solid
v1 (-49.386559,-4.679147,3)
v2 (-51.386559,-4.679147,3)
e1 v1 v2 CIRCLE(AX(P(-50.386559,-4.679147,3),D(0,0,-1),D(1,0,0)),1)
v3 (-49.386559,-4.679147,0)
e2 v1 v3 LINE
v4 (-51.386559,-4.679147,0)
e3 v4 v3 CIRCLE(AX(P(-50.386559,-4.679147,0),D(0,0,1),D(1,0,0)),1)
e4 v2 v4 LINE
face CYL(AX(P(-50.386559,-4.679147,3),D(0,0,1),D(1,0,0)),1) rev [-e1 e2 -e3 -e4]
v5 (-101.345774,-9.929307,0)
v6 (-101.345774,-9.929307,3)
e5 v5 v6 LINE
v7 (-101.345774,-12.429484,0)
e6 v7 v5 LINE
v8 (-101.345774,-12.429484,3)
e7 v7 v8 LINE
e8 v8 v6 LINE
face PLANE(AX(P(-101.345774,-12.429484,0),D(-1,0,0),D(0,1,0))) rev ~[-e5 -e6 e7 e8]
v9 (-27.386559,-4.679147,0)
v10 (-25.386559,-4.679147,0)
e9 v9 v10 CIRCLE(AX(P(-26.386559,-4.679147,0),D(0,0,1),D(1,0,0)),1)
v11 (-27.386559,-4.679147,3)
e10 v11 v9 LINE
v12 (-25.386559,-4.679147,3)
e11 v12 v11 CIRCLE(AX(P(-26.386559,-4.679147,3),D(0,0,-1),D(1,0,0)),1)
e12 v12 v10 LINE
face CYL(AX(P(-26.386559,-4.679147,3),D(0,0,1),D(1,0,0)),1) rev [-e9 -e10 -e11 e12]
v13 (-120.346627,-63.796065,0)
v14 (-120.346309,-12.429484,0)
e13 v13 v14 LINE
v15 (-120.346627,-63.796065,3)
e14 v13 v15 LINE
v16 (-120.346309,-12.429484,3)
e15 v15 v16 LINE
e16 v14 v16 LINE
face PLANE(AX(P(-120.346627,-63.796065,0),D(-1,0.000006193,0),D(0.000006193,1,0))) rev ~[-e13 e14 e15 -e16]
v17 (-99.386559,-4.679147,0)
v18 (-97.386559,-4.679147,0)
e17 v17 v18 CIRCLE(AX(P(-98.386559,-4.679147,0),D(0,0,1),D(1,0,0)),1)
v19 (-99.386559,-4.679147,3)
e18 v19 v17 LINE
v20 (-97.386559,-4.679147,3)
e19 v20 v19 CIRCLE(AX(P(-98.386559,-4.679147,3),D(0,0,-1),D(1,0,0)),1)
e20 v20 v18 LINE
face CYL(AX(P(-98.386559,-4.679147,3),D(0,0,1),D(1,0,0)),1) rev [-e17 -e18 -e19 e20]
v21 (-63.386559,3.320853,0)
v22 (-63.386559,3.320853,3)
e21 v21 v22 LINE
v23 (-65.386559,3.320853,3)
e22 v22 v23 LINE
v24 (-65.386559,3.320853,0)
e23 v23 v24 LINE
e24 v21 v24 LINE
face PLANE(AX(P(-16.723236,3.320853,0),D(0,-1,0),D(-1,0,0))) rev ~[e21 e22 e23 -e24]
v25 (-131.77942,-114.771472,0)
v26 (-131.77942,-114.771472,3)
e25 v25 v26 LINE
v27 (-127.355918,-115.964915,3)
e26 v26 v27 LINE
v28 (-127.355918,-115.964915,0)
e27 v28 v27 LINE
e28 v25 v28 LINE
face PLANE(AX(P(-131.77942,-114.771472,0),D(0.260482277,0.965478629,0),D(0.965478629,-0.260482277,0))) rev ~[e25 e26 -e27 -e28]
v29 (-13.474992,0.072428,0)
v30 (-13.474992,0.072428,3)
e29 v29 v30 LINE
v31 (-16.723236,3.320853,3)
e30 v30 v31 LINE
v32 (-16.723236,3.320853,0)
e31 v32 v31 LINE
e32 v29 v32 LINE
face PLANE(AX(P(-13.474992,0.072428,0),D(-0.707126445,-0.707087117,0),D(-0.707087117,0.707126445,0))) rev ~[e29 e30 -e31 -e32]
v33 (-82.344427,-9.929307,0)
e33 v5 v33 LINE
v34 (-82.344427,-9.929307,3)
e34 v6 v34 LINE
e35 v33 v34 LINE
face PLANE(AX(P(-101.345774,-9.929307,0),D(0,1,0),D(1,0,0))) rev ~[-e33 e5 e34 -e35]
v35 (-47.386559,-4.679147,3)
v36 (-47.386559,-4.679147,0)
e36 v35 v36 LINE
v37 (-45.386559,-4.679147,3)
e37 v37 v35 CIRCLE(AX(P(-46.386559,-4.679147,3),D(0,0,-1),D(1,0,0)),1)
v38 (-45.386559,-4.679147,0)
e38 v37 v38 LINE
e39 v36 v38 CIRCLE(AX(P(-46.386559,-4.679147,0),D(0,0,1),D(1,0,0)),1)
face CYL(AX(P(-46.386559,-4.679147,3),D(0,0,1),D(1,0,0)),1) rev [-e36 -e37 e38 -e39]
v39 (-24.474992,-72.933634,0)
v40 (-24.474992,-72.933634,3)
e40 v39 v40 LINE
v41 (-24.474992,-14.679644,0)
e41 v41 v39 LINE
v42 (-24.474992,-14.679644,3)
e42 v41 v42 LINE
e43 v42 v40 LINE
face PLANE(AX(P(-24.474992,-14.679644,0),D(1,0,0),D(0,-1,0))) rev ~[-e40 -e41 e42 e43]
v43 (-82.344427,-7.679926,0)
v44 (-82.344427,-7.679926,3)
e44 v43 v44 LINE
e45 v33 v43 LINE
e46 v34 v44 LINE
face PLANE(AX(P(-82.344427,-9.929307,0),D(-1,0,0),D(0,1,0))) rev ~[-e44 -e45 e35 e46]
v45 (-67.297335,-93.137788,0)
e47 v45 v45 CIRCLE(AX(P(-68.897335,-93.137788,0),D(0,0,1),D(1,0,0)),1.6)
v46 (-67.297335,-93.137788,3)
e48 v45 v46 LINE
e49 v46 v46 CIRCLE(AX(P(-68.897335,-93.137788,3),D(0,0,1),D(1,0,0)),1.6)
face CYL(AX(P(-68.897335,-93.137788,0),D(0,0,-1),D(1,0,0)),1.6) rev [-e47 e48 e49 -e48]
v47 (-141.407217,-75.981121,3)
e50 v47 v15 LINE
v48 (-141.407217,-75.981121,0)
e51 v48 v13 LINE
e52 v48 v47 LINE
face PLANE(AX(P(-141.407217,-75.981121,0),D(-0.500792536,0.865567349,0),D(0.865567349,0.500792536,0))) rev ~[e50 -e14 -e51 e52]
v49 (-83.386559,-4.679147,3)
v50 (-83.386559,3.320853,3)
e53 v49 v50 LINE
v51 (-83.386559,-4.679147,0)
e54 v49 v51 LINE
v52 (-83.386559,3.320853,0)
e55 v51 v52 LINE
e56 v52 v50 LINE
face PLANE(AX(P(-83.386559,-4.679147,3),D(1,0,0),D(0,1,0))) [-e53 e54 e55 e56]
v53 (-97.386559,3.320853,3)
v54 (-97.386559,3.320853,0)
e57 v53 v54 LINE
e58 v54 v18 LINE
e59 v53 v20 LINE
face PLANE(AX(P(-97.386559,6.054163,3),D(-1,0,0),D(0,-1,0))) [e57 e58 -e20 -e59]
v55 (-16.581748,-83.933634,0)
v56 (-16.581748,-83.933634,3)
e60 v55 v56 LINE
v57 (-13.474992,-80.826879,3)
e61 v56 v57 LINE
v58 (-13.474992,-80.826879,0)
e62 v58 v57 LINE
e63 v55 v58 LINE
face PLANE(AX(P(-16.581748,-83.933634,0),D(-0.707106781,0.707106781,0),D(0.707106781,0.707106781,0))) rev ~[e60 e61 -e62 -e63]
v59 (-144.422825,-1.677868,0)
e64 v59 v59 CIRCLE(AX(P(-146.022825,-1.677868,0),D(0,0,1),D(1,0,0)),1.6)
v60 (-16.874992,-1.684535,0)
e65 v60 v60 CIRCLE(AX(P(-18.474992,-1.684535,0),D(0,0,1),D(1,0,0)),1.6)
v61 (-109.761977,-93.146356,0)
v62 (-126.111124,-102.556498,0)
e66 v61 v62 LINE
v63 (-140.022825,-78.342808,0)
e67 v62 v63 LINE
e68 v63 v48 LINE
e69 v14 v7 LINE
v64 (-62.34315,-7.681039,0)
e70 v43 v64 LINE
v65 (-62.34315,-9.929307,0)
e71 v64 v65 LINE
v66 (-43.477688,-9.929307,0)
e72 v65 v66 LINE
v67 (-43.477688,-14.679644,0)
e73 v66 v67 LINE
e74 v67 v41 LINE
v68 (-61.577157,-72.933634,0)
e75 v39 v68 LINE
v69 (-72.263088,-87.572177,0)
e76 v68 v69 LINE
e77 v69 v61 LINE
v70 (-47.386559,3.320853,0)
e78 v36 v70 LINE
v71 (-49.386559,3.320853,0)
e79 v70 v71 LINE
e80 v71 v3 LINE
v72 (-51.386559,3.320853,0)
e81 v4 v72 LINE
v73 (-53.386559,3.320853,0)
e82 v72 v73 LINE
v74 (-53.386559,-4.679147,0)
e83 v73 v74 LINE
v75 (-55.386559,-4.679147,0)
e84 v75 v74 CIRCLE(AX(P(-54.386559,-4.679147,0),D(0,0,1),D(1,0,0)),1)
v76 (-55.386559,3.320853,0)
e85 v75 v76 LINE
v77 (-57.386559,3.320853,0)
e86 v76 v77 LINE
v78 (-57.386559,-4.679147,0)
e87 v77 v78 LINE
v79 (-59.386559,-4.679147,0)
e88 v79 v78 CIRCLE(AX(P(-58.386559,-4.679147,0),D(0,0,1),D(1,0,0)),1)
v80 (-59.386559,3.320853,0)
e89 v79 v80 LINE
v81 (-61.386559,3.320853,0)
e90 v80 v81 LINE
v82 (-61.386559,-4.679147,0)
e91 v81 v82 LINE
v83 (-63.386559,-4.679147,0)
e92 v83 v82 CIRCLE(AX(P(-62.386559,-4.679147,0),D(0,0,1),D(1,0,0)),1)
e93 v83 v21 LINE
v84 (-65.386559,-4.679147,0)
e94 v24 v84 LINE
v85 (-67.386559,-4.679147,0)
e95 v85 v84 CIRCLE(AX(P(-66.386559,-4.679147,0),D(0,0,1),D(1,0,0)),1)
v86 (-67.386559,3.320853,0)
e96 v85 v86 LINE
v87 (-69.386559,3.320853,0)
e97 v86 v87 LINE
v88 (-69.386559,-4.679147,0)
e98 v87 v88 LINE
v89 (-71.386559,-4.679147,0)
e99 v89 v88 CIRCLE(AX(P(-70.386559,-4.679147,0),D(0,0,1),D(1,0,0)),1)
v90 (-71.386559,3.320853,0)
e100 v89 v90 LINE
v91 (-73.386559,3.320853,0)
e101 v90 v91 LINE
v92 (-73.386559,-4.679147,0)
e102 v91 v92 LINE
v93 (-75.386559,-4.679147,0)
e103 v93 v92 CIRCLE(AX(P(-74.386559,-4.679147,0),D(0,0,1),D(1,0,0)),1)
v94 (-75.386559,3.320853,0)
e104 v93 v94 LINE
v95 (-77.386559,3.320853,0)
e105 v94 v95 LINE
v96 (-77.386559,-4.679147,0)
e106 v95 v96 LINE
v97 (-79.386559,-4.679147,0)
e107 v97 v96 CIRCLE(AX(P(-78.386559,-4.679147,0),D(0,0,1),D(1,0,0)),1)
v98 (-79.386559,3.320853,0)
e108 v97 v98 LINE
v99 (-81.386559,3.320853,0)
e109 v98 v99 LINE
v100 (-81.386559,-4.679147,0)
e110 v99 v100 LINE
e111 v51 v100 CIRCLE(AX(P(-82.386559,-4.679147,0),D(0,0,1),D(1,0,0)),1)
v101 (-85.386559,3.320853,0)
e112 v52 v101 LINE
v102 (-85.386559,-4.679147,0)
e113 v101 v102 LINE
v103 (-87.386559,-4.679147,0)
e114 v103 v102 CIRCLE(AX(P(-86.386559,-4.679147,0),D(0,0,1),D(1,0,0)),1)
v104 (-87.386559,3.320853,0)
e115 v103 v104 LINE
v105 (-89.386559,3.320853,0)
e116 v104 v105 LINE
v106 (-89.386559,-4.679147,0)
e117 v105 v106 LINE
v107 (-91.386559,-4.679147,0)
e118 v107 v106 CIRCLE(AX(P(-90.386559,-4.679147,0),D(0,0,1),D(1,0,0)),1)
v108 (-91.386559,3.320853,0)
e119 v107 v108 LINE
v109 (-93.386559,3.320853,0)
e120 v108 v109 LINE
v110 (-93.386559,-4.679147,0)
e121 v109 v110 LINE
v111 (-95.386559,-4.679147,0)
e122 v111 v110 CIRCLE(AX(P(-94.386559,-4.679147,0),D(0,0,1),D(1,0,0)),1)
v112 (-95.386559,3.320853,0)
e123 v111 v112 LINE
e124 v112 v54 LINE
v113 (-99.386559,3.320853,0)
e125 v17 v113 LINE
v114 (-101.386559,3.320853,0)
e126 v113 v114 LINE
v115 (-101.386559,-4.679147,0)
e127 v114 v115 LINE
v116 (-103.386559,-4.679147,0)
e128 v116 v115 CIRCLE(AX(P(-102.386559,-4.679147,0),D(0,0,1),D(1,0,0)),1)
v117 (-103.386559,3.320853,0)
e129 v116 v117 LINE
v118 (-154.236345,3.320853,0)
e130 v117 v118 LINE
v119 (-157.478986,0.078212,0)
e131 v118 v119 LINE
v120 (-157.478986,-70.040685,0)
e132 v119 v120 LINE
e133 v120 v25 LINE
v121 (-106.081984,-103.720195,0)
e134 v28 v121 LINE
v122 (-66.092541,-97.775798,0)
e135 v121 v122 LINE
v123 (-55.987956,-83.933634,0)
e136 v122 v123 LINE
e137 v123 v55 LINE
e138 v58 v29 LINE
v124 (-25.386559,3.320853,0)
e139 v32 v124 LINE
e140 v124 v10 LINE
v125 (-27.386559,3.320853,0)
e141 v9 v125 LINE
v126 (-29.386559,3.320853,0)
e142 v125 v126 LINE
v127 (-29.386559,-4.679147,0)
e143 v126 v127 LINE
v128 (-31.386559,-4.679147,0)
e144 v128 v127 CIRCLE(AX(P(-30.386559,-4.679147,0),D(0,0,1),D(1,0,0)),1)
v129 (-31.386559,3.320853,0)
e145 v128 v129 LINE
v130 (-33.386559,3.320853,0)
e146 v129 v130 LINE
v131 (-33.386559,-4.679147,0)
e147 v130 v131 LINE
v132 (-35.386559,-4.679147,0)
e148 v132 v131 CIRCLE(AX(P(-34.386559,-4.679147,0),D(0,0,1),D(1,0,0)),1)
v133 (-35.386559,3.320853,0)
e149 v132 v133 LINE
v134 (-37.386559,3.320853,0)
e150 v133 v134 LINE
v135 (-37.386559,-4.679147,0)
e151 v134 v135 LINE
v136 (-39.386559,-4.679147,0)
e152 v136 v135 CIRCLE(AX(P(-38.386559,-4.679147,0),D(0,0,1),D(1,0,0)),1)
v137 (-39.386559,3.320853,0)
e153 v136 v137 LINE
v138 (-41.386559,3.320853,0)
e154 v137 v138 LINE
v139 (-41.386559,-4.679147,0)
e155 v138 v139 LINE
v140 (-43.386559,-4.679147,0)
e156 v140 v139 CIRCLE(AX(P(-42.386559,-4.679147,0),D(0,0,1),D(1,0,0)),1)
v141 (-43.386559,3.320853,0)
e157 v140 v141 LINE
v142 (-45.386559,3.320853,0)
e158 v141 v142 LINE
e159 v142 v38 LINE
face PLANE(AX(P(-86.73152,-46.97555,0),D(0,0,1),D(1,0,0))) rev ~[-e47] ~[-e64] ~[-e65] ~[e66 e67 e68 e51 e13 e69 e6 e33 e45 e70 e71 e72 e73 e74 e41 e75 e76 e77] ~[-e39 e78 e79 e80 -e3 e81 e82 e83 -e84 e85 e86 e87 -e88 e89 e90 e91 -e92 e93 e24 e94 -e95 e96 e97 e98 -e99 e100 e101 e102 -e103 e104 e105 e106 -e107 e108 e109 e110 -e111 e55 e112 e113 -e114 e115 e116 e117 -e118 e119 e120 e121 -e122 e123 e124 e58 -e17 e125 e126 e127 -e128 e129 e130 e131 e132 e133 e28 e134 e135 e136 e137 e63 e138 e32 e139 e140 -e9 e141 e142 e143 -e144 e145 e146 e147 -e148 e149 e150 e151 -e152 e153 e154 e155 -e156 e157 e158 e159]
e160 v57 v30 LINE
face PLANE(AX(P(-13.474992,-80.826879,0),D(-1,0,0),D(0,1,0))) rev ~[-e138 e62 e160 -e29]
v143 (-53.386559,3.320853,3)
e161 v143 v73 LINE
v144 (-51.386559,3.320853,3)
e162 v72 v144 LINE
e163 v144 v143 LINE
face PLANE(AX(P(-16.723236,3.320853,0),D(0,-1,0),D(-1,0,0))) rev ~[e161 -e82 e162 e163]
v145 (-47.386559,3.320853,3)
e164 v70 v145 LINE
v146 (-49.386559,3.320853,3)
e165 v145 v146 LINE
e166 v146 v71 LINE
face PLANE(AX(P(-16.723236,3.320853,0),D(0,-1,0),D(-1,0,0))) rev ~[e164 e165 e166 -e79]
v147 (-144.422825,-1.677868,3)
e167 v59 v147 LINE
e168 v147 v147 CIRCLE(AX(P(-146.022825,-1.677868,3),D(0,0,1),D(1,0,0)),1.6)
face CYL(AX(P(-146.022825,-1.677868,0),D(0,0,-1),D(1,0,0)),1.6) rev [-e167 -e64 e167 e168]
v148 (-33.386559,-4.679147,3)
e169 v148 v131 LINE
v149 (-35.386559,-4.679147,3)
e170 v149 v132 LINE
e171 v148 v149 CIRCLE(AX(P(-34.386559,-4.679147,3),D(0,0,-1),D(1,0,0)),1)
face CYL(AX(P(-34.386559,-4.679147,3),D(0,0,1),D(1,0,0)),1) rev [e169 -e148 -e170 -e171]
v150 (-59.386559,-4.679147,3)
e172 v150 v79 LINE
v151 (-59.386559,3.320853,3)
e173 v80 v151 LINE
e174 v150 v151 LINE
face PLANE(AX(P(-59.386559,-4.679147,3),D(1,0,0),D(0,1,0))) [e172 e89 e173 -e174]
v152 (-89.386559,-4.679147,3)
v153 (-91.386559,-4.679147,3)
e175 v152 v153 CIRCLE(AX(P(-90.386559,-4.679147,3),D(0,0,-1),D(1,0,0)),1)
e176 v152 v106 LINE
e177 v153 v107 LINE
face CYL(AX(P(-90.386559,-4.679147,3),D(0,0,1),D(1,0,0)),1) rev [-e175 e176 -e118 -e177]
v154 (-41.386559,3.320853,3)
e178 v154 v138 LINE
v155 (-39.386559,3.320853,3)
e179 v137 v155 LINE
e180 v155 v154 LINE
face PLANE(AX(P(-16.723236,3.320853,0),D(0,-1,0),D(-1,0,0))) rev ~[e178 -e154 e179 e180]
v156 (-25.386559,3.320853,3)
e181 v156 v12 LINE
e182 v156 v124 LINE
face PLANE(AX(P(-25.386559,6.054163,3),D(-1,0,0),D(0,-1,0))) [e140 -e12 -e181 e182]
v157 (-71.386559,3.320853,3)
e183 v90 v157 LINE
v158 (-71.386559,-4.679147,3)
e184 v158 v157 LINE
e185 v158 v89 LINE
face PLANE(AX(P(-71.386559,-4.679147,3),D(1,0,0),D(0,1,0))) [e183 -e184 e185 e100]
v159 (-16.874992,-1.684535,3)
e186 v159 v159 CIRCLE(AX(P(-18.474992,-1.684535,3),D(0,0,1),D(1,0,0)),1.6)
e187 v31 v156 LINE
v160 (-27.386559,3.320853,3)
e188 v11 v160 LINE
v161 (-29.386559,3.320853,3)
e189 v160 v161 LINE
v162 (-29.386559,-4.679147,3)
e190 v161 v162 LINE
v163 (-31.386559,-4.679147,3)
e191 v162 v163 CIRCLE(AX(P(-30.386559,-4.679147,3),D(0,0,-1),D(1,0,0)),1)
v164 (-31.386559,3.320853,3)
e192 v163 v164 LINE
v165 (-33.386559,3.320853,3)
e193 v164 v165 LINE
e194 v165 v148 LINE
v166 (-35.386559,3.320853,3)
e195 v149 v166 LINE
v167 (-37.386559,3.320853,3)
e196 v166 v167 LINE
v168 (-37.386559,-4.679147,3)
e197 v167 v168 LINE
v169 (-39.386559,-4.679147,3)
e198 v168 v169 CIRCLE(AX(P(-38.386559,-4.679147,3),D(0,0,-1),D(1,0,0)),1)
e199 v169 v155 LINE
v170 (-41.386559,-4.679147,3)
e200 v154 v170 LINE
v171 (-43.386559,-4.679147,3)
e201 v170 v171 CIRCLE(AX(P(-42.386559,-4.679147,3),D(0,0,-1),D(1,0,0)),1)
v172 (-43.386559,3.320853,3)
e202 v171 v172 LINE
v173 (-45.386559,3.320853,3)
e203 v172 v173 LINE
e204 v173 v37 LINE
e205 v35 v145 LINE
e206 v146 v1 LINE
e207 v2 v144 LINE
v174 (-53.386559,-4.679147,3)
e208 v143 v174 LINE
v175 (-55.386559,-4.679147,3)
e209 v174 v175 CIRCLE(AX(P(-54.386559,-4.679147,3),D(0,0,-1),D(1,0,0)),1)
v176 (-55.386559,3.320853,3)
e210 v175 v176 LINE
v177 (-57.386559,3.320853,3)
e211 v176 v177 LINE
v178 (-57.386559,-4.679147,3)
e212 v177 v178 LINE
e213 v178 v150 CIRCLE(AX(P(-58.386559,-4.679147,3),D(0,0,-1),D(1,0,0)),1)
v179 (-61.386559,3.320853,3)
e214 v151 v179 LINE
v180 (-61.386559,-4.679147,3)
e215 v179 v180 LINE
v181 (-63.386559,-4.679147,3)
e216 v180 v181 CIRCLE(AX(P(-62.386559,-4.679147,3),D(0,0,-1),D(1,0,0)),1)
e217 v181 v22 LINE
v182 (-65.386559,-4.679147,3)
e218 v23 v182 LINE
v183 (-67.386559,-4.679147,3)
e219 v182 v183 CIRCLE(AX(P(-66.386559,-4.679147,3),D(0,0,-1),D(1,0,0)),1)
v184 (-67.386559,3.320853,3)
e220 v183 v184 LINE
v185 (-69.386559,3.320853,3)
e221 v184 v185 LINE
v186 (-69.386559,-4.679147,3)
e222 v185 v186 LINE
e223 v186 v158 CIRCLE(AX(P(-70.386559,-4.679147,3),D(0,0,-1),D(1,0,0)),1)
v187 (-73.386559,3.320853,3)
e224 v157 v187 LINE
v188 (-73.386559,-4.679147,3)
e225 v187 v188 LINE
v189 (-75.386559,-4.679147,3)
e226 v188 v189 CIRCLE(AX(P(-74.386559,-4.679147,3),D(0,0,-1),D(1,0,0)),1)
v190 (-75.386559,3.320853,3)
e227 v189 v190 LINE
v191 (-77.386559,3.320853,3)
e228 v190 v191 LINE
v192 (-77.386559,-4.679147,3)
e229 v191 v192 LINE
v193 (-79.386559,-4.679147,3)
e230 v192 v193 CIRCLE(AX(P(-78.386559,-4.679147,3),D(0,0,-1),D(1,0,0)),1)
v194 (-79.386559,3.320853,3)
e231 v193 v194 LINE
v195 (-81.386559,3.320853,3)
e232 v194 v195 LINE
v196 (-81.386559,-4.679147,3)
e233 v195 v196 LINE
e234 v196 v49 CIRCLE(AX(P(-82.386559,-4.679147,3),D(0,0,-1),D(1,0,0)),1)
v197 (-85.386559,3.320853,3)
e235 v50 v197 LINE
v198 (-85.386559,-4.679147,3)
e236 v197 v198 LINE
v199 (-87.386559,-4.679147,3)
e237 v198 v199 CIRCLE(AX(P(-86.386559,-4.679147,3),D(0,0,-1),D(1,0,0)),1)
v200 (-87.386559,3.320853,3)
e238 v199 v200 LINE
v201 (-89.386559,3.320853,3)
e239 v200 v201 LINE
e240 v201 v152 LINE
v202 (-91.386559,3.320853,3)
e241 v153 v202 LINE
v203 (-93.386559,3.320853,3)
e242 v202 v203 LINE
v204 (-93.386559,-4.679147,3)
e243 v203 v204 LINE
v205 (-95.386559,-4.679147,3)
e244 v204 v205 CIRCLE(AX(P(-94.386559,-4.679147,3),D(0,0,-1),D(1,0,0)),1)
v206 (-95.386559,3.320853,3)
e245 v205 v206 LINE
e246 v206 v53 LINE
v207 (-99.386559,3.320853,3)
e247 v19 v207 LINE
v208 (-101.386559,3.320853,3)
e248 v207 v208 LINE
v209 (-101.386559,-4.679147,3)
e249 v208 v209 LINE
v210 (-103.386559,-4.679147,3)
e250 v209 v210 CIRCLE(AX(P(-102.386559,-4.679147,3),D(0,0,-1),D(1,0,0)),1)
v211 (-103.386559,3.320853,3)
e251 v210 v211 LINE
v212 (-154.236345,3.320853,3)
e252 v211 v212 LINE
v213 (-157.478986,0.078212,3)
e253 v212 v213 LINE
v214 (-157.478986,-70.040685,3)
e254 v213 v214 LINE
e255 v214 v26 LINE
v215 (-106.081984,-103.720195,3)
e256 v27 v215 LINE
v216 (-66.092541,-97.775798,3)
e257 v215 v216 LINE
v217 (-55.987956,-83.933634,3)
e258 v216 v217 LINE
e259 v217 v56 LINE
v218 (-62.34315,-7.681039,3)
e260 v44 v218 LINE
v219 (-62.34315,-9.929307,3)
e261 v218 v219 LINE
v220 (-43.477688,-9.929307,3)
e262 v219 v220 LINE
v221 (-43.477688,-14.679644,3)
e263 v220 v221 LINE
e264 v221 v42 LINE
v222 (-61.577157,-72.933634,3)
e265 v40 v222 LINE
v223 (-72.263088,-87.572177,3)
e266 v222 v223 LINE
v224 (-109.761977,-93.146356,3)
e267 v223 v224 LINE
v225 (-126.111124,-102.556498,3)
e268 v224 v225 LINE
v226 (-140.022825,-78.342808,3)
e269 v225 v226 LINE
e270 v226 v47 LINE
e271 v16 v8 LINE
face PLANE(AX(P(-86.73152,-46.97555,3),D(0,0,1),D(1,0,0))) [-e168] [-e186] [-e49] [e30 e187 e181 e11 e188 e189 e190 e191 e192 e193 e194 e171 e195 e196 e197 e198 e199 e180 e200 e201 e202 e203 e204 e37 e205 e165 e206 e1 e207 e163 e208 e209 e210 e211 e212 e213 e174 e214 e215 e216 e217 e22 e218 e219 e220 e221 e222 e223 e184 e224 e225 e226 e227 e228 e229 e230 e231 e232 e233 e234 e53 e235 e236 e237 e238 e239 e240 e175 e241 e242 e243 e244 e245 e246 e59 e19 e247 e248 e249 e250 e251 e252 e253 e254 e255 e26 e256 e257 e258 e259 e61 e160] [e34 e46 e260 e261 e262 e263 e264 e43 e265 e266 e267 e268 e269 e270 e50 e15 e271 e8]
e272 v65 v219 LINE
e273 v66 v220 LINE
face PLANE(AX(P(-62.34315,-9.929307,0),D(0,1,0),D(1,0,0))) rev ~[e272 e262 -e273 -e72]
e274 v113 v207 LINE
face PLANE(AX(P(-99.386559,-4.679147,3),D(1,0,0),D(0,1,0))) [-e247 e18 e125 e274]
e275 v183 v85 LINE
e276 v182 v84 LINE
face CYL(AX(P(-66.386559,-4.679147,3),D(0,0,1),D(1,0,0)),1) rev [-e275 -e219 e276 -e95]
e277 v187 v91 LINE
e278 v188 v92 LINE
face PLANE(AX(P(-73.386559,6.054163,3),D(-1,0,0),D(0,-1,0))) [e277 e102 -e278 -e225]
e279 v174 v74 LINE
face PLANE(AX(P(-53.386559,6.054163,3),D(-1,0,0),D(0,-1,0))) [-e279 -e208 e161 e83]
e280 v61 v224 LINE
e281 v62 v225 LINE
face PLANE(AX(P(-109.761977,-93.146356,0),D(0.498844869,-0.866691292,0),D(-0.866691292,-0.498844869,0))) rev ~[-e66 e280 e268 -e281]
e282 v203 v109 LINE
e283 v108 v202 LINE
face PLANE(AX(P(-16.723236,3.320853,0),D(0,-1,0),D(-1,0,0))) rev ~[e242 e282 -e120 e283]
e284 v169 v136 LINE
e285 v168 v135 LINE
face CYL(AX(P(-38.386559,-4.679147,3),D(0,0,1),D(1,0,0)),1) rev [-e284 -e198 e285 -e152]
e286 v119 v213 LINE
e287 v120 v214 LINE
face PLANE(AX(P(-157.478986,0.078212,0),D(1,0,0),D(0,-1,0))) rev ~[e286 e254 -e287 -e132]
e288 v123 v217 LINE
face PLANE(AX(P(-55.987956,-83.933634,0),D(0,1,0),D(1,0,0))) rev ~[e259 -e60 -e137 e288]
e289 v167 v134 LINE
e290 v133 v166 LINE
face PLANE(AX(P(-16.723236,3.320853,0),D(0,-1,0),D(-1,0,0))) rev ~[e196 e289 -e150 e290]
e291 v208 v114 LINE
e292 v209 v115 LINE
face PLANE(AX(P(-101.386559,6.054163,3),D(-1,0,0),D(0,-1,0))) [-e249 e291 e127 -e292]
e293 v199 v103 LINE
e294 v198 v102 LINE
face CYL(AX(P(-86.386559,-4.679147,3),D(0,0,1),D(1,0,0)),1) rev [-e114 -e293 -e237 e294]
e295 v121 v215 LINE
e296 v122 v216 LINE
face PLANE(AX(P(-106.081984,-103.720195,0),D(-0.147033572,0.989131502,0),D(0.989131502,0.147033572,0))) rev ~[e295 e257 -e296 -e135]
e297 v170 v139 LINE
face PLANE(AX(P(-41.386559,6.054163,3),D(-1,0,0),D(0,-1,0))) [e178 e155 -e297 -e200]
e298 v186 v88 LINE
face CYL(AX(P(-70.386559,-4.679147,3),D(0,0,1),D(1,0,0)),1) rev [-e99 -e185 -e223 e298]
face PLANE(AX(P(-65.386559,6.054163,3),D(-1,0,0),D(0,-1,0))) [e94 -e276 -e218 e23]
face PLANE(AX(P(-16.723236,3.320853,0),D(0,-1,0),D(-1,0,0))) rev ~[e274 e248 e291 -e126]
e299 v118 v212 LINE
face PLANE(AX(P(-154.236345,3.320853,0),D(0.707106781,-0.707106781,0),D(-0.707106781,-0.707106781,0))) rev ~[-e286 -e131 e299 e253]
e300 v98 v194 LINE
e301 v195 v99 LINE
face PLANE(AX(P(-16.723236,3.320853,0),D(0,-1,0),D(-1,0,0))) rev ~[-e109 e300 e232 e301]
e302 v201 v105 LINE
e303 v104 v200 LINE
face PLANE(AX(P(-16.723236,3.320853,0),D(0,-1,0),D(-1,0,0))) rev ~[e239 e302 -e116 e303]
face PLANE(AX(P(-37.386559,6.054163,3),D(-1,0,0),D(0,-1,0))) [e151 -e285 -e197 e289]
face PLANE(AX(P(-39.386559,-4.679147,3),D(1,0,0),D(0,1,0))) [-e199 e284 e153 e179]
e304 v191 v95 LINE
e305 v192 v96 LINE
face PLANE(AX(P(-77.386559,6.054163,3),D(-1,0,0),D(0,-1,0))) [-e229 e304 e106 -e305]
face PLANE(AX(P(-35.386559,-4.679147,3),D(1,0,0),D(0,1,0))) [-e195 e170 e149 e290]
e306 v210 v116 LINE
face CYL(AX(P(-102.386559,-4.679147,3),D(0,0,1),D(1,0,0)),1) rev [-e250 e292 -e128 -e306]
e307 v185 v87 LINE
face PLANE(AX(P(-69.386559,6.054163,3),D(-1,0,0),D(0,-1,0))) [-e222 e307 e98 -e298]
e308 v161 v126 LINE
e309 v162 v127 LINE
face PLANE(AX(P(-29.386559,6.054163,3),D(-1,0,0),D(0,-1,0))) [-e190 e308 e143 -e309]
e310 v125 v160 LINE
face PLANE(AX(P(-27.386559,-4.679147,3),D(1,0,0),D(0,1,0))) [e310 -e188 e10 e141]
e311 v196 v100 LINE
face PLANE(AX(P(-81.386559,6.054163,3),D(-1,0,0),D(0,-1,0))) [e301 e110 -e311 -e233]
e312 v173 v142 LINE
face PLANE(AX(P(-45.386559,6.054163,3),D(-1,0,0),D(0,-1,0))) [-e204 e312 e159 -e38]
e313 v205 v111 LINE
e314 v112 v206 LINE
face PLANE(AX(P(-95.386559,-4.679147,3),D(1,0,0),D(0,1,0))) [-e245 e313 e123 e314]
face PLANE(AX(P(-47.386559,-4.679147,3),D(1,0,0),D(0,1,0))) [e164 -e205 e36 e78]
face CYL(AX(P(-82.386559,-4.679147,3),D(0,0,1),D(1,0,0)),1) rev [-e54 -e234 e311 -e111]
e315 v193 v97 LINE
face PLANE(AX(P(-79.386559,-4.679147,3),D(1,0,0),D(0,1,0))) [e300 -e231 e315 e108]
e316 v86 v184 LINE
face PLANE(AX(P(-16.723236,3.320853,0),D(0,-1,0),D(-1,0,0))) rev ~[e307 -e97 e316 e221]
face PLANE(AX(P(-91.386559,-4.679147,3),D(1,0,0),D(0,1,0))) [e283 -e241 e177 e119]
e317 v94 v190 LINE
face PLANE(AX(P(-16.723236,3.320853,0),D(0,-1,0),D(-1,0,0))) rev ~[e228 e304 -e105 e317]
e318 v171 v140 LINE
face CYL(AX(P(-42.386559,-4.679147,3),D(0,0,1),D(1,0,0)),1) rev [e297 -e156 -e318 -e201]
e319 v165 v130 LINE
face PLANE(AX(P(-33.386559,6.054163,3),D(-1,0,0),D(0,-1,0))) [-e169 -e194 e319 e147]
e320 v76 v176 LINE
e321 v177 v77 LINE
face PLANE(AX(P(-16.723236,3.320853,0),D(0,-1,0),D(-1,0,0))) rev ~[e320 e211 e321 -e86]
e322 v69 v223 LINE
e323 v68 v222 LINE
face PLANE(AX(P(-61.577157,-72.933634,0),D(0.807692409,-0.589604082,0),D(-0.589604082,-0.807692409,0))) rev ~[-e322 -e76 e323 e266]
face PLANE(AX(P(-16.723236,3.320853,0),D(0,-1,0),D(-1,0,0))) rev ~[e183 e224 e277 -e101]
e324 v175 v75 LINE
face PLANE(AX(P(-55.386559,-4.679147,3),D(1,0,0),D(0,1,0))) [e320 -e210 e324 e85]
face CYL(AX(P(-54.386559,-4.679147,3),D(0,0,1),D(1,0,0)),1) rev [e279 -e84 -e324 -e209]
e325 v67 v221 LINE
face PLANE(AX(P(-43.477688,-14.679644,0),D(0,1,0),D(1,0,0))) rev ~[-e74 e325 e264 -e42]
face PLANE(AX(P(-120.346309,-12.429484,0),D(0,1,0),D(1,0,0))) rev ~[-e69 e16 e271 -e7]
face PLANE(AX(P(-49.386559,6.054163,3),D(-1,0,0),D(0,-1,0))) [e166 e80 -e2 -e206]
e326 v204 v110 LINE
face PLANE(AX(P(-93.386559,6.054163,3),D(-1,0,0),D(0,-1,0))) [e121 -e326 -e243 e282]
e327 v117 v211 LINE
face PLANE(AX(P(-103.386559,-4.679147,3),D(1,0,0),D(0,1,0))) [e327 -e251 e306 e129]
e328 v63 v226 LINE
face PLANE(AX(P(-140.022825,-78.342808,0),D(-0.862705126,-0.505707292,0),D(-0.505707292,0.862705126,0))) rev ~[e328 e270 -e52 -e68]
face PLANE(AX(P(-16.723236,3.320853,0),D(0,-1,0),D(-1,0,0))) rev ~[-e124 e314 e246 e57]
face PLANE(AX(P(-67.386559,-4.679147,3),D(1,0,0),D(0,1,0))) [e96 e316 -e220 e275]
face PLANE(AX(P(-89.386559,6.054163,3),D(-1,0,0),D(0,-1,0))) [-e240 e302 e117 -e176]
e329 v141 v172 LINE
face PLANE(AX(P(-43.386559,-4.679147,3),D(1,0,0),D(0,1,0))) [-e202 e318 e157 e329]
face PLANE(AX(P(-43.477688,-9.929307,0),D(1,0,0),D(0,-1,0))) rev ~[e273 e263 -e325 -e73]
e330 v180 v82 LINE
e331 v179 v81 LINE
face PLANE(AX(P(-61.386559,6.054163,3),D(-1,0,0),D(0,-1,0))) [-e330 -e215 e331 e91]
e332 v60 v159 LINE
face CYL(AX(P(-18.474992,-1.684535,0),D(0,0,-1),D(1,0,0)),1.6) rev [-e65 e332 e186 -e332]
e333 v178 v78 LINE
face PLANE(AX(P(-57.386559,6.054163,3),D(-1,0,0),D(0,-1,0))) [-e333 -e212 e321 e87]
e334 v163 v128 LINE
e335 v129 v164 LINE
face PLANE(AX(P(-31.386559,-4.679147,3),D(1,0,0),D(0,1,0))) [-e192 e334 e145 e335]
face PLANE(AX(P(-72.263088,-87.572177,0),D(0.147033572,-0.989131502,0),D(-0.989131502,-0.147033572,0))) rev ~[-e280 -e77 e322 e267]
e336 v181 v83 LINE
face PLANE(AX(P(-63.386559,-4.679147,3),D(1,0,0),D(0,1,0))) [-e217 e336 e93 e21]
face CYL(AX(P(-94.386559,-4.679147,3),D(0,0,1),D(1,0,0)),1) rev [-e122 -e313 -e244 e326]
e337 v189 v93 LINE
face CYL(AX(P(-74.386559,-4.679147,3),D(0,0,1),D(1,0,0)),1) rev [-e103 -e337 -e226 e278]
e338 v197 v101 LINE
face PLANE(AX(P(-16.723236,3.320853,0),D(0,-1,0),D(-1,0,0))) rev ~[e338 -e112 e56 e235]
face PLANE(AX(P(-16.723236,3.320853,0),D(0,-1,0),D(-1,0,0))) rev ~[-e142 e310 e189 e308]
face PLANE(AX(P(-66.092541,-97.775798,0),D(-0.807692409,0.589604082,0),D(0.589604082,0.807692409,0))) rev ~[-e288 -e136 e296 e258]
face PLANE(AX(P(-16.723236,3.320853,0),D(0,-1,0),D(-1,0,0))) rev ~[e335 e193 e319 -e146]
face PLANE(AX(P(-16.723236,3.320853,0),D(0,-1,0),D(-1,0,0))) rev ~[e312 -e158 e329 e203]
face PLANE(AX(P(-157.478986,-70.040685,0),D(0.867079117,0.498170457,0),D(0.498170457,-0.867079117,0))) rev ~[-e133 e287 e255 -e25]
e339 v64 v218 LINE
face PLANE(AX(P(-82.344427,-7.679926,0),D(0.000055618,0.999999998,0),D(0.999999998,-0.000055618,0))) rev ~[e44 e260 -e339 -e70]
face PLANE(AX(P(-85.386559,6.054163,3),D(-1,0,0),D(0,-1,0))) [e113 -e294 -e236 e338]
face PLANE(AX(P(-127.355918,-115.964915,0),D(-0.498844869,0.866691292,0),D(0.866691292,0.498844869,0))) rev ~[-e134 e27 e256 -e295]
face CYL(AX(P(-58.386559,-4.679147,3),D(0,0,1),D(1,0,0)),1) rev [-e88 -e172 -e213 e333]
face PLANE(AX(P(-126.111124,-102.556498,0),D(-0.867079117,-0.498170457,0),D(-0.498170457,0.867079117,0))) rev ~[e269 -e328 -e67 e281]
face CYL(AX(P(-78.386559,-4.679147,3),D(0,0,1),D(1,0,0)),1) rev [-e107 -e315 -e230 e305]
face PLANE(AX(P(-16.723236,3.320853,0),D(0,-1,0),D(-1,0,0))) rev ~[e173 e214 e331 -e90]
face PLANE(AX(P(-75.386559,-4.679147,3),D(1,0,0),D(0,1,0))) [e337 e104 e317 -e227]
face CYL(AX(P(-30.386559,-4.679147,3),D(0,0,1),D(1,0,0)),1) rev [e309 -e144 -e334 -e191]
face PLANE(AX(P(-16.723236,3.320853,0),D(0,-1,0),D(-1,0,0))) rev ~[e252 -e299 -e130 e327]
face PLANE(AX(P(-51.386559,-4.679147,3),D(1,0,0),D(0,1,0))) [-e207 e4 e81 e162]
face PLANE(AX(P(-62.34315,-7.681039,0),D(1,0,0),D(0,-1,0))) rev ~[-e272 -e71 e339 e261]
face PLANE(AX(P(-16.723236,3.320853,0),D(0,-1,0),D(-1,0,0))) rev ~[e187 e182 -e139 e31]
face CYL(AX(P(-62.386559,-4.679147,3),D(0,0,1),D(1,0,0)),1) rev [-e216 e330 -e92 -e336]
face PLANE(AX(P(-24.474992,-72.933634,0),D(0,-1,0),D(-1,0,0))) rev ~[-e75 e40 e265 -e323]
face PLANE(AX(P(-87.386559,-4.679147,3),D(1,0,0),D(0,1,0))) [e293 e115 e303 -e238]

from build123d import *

# Parameters (mm, degrees)
ESQUISSE1_R             = 1.6
BOSS_EXTRU_1_DEPTH      = 3
ENL_V_MAT_EXTRU_1_DEPTH = 10


with BuildPart() as part:
    # Esquisse1 → Boss.-Extru.1 (new body)
    with BuildSketch(Plane.XY):
        Polygon((-13.474992457, 0.072428093), (-16.723236211, 3.320852512), (-154.236345188, 3.320852512), (-157.478985875, 0.078211825), (-157.478985875, -70.04068474), (-131.779420125, -114.771472067), (-127.355917516, -115.9649154), (-106.081983802, -103.720194839), (-66.092540926, -97.775797545), (-55.98795635, -83.933633781), (-16.581747648, -83.933633781), (-13.474992457, -80.826878591), align=None)
        Polygon((-126.111124489, -102.556497988), (-140.02282508, -78.342807898), (-141.407217303, -75.981121034), (-120.346626934, -63.796065222), (-120.346308835, -12.429484403), (-101.345774335, -12.429484403), (-101.345774335, -9.929307079), (-82.344426674, -9.929307079), (-82.344426674, -7.679926158), (-62.343149943, -7.681038584), (-62.343149943, -9.929307079), (-43.477687779, -9.929307079), (-43.477687779, -14.679643994), (-24.474992457, -14.679643994), (-24.474992457, -72.933633781), (-61.577157206, -72.933633781), (-72.263087593, -87.572177036), (-109.761976756, -93.1463556), align=None, mode=Mode.SUBTRACT)
        with Locations((-68.897334865, -93.137788223)):
            Circle(ESQUISSE1_R, mode=Mode.SUBTRACT)
        with Locations((-146.02282508, -1.677868186)):
            Circle(ESQUISSE1_R, mode=Mode.SUBTRACT)
        with Locations((-18.474992457, -1.68453516)):
            Circle(ESQUISSE1_R, mode=Mode.SUBTRACT)
    extrude(amount=BOSS_EXTRU_1_DEPTH)

    # Esquisse2 → Enlèv. mat.-Extru.1 (cut)
    with BuildSketch(Plane.XY.offset(3)):
        with BuildLine():
            Line((-25.386559375, 6.054162745), (-25.386559375, -4.679147488))
            ThreePointArc((-25.386559375, -4.679147488), (-26.386559375, -5.679147488), (-27.386559375, -4.679147488))
            Line((-27.386559375, -4.679147488), (-27.386559375, 6.054162745))
            ThreePointArc((-27.386559375, 6.054162745), (-26.386559375, 7.054162745), (-25.386559375, 6.054162745))
        make_face()
        with BuildLine():
            Line((-29.386559375, 6.054162745), (-29.386559375, -4.679147488))
            ThreePointArc((-29.386559375, -4.679147488), (-30.386559375, -5.679147488), (-31.386559375, -4.679147488))
            Line((-31.386559375, -4.679147488), (-31.386559375, 6.054162745))
            ThreePointArc((-31.386559375, 6.054162745), (-30.386559375, 7.054162745), (-29.386559375, 6.054162745))
        make_face()
        with BuildLine():
            Line((-33.386559375, 6.054162745), (-33.386559375, -4.679147488))
            ThreePointArc((-33.386559375, -4.679147488), (-34.386559375, -5.679147488), (-35.386559375, -4.679147488))
            Line((-35.386559375, -4.679147488), (-35.386559375, 6.054162745))
            ThreePointArc((-35.386559375, 6.054162745), (-34.386559375, 7.054162745), (-33.386559375, 6.054162745))
        make_face()
        with BuildLine():
            Line((-37.386559375, 6.054162745), (-37.386559375, -4.679147488))
            ThreePointArc((-37.386559375, -4.679147488), (-38.386559375, -5.679147488), (-39.386559375, -4.679147488))
            Line((-39.386559375, -4.679147488), (-39.386559375, 6.054162745))
            ThreePointArc((-39.386559375, 6.054162745), (-38.386559375, 7.054162745), (-37.386559375, 6.054162745))
        make_face()
        with BuildLine():
            Line((-41.386559375, 6.054162745), (-41.386559375, -4.679147488))
            ThreePointArc((-41.386559375, -4.679147488), (-42.386559375, -5.679147488), (-43.386559375, -4.679147488))
            Line((-43.386559375, -4.679147488), (-43.386559375, 6.054162745))
            ThreePointArc((-43.386559375, 6.054162745), (-42.386559375, 7.054162745), (-41.386559375, 6.054162745))
        make_face()
        with BuildLine():
            Line((-45.386559375, 6.054162745), (-45.386559375, -4.679147488))
            ThreePointArc((-45.386559375, -4.679147488), (-46.386559375, -5.679147488), (-47.386559375, -4.679147488))
            Line((-47.386559375, -4.679147488), (-47.386559375, 6.054162745))
            ThreePointArc((-47.386559375, 6.054162745), (-46.386559375, 7.054162745), (-45.386559375, 6.054162745))
        make_face()
        with BuildLine():
            Line((-49.386559375, 6.054162745), (-49.386559375, -4.679147488))
            ThreePointArc((-49.386559375, -4.679147488), (-50.386559375, -5.679147488), (-51.386559375, -4.679147488))
            Line((-51.386559375, -4.679147488), (-51.386559375, 6.054162745))
            ThreePointArc((-51.386559375, 6.054162745), (-50.386559375, 7.054162745), (-49.386559375, 6.054162745))
        make_face()
        with BuildLine():
            Line((-53.386559375, 6.054162745), (-53.386559375, -4.679147488))
            ThreePointArc((-53.386559375, -4.679147488), (-54.386559375, -5.679147488), (-55.386559375, -4.679147488))
            Line((-55.386559375, -4.679147488), (-55.386559375, 6.054162745))
            ThreePointArc((-55.386559375, 6.054162745), (-54.386559375, 7.054162745), (-53.386559375, 6.054162745))
        make_face()
        with BuildLine():
            Line((-57.386559375, 6.054162745), (-57.386559375, -4.679147488))
            ThreePointArc((-57.386559375, -4.679147488), (-58.386559375, -5.679147488), (-59.386559375, -4.679147488))
            Line((-59.386559375, -4.679147488), (-59.386559375, 6.054162745))
            ThreePointArc((-59.386559375, 6.054162745), (-58.386559375, 7.054162745), (-57.386559375, 6.054162745))
        make_face()
        with BuildLine():
            Line((-61.386559375, 6.054162745), (-61.386559375, -4.679147488))
            ThreePointArc((-61.386559375, -4.679147488), (-62.386559375, -5.679147488), (-63.386559375, -4.679147488))
            Line((-63.386559375, -4.679147488), (-63.386559375, 6.054162745))
            ThreePointArc((-63.386559375, 6.054162745), (-62.386559375, 7.054162745), (-61.386559375, 6.054162745))
        make_face()
        with BuildLine():
            Line((-65.386559375, 6.054162745), (-65.386559375, -4.679147488))
            ThreePointArc((-65.386559375, -4.679147488), (-66.386559375, -5.679147488), (-67.386559375, -4.679147488))
            Line((-67.386559375, -4.679147488), (-67.386559375, 6.054162745))
            ThreePointArc((-67.386559375, 6.054162745), (-66.386559375, 7.054162745), (-65.386559375, 6.054162745))
        make_face()
        with BuildLine():
            Line((-69.386559375, 6.054162745), (-69.386559375, -4.679147488))
            ThreePointArc((-69.386559375, -4.679147488), (-70.386559375, -5.679147488), (-71.386559375, -4.679147488))
            Line((-71.386559375, -4.679147488), (-71.386559375, 6.054162745))
            ThreePointArc((-71.386559375, 6.054162745), (-70.386559375, 7.054162745), (-69.386559375, 6.054162745))
        make_face()
        with BuildLine():
            Line((-73.386559375, 6.054162745), (-73.386559375, -4.679147488))
            ThreePointArc((-73.386559375, -4.679147488), (-74.386559375, -5.679147488), (-75.386559375, -4.679147488))
            Line((-75.386559375, -4.679147488), (-75.386559375, 6.054162745))
            ThreePointArc((-75.386559375, 6.054162745), (-74.386559375, 7.054162745), (-73.386559375, 6.054162745))
        make_face()
        with BuildLine():
            Line((-77.386559375, 6.054162745), (-77.386559375, -4.679147488))
            ThreePointArc((-77.386559375, -4.679147488), (-78.386559375, -5.679147488), (-79.386559375, -4.679147488))
            Line((-79.386559375, -4.679147488), (-79.386559375, 6.054162745))
            ThreePointArc((-79.386559375, 6.054162745), (-78.386559375, 7.054162745), (-77.386559375, 6.054162745))
        make_face()
        with BuildLine():
            Line((-81.386559375, 6.054162745), (-81.386559375, -4.679147488))
            ThreePointArc((-81.386559375, -4.679147488), (-82.386559375, -5.679147488), (-83.386559375, -4.679147488))
            Line((-83.386559375, -4.679147488), (-83.386559375, 6.054162745))
            ThreePointArc((-83.386559375, 6.054162745), (-82.386559375, 7.054162745), (-81.386559375, 6.054162745))
        make_face()
        with BuildLine():
            Line((-85.386559375, 6.054162745), (-85.386559375, -4.679147488))
            ThreePointArc((-85.386559375, -4.679147488), (-86.386559375, -5.679147488), (-87.386559375, -4.679147488))
            Line((-87.386559375, -4.679147488), (-87.386559375, 6.054162745))
            ThreePointArc((-87.386559375, 6.054162745), (-86.386559375, 7.054162745), (-85.386559375, 6.054162745))
        make_face()
        with BuildLine():
            Line((-89.386559375, 6.054162745), (-89.386559375, -4.679147488))
            ThreePointArc((-89.386559375, -4.679147488), (-90.386559375, -5.679147488), (-91.386559375, -4.679147488))
            Line((-91.386559375, -4.679147488), (-91.386559375, 6.054162745))
            ThreePointArc((-91.386559375, 6.054162745), (-90.386559375, 7.054162745), (-89.386559375, 6.054162745))
        make_face()
        with BuildLine():
            Line((-93.386559375, 6.054162745), (-93.386559375, -4.679147488))
            ThreePointArc((-93.386559375, -4.679147488), (-94.386559375, -5.679147488), (-95.386559375, -4.679147488))
            Line((-95.386559375, -4.679147488), (-95.386559375, 6.054162745))
            ThreePointArc((-95.386559375, 6.054162745), (-94.386559375, 7.054162745), (-93.386559375, 6.054162745))
        make_face()
        with BuildLine():
            Line((-97.386559375, 6.054162745), (-97.386559375, -4.679147488))
            ThreePointArc((-97.386559375, -4.679147488), (-98.386559375, -5.679147488), (-99.386559375, -4.679147488))
            Line((-99.386559375, -4.679147488), (-99.386559375, 6.054162745))
            ThreePointArc((-99.386559375, 6.054162745), (-98.386559375, 7.054162745), (-97.386559375, 6.054162745))
        make_face()
        with BuildLine():
            Line((-101.386559375, 6.054162745), (-101.386559375, -4.679147488))
            ThreePointArc((-101.386559375, -4.679147488), (-102.386559375, -5.679147488), (-103.386559375, -4.679147488))
            Line((-103.386559375, -4.679147488), (-103.386559375, 6.054162745))
            ThreePointArc((-103.386559375, 6.054162745), (-102.386559375, 7.054162745), (-101.386559375, 6.054162745))
        make_face()
    extrude(amount=-ENL_V_MAT_EXTRU_1_DEPTH, mode=Mode.SUBTRACT)


solid = part.part
